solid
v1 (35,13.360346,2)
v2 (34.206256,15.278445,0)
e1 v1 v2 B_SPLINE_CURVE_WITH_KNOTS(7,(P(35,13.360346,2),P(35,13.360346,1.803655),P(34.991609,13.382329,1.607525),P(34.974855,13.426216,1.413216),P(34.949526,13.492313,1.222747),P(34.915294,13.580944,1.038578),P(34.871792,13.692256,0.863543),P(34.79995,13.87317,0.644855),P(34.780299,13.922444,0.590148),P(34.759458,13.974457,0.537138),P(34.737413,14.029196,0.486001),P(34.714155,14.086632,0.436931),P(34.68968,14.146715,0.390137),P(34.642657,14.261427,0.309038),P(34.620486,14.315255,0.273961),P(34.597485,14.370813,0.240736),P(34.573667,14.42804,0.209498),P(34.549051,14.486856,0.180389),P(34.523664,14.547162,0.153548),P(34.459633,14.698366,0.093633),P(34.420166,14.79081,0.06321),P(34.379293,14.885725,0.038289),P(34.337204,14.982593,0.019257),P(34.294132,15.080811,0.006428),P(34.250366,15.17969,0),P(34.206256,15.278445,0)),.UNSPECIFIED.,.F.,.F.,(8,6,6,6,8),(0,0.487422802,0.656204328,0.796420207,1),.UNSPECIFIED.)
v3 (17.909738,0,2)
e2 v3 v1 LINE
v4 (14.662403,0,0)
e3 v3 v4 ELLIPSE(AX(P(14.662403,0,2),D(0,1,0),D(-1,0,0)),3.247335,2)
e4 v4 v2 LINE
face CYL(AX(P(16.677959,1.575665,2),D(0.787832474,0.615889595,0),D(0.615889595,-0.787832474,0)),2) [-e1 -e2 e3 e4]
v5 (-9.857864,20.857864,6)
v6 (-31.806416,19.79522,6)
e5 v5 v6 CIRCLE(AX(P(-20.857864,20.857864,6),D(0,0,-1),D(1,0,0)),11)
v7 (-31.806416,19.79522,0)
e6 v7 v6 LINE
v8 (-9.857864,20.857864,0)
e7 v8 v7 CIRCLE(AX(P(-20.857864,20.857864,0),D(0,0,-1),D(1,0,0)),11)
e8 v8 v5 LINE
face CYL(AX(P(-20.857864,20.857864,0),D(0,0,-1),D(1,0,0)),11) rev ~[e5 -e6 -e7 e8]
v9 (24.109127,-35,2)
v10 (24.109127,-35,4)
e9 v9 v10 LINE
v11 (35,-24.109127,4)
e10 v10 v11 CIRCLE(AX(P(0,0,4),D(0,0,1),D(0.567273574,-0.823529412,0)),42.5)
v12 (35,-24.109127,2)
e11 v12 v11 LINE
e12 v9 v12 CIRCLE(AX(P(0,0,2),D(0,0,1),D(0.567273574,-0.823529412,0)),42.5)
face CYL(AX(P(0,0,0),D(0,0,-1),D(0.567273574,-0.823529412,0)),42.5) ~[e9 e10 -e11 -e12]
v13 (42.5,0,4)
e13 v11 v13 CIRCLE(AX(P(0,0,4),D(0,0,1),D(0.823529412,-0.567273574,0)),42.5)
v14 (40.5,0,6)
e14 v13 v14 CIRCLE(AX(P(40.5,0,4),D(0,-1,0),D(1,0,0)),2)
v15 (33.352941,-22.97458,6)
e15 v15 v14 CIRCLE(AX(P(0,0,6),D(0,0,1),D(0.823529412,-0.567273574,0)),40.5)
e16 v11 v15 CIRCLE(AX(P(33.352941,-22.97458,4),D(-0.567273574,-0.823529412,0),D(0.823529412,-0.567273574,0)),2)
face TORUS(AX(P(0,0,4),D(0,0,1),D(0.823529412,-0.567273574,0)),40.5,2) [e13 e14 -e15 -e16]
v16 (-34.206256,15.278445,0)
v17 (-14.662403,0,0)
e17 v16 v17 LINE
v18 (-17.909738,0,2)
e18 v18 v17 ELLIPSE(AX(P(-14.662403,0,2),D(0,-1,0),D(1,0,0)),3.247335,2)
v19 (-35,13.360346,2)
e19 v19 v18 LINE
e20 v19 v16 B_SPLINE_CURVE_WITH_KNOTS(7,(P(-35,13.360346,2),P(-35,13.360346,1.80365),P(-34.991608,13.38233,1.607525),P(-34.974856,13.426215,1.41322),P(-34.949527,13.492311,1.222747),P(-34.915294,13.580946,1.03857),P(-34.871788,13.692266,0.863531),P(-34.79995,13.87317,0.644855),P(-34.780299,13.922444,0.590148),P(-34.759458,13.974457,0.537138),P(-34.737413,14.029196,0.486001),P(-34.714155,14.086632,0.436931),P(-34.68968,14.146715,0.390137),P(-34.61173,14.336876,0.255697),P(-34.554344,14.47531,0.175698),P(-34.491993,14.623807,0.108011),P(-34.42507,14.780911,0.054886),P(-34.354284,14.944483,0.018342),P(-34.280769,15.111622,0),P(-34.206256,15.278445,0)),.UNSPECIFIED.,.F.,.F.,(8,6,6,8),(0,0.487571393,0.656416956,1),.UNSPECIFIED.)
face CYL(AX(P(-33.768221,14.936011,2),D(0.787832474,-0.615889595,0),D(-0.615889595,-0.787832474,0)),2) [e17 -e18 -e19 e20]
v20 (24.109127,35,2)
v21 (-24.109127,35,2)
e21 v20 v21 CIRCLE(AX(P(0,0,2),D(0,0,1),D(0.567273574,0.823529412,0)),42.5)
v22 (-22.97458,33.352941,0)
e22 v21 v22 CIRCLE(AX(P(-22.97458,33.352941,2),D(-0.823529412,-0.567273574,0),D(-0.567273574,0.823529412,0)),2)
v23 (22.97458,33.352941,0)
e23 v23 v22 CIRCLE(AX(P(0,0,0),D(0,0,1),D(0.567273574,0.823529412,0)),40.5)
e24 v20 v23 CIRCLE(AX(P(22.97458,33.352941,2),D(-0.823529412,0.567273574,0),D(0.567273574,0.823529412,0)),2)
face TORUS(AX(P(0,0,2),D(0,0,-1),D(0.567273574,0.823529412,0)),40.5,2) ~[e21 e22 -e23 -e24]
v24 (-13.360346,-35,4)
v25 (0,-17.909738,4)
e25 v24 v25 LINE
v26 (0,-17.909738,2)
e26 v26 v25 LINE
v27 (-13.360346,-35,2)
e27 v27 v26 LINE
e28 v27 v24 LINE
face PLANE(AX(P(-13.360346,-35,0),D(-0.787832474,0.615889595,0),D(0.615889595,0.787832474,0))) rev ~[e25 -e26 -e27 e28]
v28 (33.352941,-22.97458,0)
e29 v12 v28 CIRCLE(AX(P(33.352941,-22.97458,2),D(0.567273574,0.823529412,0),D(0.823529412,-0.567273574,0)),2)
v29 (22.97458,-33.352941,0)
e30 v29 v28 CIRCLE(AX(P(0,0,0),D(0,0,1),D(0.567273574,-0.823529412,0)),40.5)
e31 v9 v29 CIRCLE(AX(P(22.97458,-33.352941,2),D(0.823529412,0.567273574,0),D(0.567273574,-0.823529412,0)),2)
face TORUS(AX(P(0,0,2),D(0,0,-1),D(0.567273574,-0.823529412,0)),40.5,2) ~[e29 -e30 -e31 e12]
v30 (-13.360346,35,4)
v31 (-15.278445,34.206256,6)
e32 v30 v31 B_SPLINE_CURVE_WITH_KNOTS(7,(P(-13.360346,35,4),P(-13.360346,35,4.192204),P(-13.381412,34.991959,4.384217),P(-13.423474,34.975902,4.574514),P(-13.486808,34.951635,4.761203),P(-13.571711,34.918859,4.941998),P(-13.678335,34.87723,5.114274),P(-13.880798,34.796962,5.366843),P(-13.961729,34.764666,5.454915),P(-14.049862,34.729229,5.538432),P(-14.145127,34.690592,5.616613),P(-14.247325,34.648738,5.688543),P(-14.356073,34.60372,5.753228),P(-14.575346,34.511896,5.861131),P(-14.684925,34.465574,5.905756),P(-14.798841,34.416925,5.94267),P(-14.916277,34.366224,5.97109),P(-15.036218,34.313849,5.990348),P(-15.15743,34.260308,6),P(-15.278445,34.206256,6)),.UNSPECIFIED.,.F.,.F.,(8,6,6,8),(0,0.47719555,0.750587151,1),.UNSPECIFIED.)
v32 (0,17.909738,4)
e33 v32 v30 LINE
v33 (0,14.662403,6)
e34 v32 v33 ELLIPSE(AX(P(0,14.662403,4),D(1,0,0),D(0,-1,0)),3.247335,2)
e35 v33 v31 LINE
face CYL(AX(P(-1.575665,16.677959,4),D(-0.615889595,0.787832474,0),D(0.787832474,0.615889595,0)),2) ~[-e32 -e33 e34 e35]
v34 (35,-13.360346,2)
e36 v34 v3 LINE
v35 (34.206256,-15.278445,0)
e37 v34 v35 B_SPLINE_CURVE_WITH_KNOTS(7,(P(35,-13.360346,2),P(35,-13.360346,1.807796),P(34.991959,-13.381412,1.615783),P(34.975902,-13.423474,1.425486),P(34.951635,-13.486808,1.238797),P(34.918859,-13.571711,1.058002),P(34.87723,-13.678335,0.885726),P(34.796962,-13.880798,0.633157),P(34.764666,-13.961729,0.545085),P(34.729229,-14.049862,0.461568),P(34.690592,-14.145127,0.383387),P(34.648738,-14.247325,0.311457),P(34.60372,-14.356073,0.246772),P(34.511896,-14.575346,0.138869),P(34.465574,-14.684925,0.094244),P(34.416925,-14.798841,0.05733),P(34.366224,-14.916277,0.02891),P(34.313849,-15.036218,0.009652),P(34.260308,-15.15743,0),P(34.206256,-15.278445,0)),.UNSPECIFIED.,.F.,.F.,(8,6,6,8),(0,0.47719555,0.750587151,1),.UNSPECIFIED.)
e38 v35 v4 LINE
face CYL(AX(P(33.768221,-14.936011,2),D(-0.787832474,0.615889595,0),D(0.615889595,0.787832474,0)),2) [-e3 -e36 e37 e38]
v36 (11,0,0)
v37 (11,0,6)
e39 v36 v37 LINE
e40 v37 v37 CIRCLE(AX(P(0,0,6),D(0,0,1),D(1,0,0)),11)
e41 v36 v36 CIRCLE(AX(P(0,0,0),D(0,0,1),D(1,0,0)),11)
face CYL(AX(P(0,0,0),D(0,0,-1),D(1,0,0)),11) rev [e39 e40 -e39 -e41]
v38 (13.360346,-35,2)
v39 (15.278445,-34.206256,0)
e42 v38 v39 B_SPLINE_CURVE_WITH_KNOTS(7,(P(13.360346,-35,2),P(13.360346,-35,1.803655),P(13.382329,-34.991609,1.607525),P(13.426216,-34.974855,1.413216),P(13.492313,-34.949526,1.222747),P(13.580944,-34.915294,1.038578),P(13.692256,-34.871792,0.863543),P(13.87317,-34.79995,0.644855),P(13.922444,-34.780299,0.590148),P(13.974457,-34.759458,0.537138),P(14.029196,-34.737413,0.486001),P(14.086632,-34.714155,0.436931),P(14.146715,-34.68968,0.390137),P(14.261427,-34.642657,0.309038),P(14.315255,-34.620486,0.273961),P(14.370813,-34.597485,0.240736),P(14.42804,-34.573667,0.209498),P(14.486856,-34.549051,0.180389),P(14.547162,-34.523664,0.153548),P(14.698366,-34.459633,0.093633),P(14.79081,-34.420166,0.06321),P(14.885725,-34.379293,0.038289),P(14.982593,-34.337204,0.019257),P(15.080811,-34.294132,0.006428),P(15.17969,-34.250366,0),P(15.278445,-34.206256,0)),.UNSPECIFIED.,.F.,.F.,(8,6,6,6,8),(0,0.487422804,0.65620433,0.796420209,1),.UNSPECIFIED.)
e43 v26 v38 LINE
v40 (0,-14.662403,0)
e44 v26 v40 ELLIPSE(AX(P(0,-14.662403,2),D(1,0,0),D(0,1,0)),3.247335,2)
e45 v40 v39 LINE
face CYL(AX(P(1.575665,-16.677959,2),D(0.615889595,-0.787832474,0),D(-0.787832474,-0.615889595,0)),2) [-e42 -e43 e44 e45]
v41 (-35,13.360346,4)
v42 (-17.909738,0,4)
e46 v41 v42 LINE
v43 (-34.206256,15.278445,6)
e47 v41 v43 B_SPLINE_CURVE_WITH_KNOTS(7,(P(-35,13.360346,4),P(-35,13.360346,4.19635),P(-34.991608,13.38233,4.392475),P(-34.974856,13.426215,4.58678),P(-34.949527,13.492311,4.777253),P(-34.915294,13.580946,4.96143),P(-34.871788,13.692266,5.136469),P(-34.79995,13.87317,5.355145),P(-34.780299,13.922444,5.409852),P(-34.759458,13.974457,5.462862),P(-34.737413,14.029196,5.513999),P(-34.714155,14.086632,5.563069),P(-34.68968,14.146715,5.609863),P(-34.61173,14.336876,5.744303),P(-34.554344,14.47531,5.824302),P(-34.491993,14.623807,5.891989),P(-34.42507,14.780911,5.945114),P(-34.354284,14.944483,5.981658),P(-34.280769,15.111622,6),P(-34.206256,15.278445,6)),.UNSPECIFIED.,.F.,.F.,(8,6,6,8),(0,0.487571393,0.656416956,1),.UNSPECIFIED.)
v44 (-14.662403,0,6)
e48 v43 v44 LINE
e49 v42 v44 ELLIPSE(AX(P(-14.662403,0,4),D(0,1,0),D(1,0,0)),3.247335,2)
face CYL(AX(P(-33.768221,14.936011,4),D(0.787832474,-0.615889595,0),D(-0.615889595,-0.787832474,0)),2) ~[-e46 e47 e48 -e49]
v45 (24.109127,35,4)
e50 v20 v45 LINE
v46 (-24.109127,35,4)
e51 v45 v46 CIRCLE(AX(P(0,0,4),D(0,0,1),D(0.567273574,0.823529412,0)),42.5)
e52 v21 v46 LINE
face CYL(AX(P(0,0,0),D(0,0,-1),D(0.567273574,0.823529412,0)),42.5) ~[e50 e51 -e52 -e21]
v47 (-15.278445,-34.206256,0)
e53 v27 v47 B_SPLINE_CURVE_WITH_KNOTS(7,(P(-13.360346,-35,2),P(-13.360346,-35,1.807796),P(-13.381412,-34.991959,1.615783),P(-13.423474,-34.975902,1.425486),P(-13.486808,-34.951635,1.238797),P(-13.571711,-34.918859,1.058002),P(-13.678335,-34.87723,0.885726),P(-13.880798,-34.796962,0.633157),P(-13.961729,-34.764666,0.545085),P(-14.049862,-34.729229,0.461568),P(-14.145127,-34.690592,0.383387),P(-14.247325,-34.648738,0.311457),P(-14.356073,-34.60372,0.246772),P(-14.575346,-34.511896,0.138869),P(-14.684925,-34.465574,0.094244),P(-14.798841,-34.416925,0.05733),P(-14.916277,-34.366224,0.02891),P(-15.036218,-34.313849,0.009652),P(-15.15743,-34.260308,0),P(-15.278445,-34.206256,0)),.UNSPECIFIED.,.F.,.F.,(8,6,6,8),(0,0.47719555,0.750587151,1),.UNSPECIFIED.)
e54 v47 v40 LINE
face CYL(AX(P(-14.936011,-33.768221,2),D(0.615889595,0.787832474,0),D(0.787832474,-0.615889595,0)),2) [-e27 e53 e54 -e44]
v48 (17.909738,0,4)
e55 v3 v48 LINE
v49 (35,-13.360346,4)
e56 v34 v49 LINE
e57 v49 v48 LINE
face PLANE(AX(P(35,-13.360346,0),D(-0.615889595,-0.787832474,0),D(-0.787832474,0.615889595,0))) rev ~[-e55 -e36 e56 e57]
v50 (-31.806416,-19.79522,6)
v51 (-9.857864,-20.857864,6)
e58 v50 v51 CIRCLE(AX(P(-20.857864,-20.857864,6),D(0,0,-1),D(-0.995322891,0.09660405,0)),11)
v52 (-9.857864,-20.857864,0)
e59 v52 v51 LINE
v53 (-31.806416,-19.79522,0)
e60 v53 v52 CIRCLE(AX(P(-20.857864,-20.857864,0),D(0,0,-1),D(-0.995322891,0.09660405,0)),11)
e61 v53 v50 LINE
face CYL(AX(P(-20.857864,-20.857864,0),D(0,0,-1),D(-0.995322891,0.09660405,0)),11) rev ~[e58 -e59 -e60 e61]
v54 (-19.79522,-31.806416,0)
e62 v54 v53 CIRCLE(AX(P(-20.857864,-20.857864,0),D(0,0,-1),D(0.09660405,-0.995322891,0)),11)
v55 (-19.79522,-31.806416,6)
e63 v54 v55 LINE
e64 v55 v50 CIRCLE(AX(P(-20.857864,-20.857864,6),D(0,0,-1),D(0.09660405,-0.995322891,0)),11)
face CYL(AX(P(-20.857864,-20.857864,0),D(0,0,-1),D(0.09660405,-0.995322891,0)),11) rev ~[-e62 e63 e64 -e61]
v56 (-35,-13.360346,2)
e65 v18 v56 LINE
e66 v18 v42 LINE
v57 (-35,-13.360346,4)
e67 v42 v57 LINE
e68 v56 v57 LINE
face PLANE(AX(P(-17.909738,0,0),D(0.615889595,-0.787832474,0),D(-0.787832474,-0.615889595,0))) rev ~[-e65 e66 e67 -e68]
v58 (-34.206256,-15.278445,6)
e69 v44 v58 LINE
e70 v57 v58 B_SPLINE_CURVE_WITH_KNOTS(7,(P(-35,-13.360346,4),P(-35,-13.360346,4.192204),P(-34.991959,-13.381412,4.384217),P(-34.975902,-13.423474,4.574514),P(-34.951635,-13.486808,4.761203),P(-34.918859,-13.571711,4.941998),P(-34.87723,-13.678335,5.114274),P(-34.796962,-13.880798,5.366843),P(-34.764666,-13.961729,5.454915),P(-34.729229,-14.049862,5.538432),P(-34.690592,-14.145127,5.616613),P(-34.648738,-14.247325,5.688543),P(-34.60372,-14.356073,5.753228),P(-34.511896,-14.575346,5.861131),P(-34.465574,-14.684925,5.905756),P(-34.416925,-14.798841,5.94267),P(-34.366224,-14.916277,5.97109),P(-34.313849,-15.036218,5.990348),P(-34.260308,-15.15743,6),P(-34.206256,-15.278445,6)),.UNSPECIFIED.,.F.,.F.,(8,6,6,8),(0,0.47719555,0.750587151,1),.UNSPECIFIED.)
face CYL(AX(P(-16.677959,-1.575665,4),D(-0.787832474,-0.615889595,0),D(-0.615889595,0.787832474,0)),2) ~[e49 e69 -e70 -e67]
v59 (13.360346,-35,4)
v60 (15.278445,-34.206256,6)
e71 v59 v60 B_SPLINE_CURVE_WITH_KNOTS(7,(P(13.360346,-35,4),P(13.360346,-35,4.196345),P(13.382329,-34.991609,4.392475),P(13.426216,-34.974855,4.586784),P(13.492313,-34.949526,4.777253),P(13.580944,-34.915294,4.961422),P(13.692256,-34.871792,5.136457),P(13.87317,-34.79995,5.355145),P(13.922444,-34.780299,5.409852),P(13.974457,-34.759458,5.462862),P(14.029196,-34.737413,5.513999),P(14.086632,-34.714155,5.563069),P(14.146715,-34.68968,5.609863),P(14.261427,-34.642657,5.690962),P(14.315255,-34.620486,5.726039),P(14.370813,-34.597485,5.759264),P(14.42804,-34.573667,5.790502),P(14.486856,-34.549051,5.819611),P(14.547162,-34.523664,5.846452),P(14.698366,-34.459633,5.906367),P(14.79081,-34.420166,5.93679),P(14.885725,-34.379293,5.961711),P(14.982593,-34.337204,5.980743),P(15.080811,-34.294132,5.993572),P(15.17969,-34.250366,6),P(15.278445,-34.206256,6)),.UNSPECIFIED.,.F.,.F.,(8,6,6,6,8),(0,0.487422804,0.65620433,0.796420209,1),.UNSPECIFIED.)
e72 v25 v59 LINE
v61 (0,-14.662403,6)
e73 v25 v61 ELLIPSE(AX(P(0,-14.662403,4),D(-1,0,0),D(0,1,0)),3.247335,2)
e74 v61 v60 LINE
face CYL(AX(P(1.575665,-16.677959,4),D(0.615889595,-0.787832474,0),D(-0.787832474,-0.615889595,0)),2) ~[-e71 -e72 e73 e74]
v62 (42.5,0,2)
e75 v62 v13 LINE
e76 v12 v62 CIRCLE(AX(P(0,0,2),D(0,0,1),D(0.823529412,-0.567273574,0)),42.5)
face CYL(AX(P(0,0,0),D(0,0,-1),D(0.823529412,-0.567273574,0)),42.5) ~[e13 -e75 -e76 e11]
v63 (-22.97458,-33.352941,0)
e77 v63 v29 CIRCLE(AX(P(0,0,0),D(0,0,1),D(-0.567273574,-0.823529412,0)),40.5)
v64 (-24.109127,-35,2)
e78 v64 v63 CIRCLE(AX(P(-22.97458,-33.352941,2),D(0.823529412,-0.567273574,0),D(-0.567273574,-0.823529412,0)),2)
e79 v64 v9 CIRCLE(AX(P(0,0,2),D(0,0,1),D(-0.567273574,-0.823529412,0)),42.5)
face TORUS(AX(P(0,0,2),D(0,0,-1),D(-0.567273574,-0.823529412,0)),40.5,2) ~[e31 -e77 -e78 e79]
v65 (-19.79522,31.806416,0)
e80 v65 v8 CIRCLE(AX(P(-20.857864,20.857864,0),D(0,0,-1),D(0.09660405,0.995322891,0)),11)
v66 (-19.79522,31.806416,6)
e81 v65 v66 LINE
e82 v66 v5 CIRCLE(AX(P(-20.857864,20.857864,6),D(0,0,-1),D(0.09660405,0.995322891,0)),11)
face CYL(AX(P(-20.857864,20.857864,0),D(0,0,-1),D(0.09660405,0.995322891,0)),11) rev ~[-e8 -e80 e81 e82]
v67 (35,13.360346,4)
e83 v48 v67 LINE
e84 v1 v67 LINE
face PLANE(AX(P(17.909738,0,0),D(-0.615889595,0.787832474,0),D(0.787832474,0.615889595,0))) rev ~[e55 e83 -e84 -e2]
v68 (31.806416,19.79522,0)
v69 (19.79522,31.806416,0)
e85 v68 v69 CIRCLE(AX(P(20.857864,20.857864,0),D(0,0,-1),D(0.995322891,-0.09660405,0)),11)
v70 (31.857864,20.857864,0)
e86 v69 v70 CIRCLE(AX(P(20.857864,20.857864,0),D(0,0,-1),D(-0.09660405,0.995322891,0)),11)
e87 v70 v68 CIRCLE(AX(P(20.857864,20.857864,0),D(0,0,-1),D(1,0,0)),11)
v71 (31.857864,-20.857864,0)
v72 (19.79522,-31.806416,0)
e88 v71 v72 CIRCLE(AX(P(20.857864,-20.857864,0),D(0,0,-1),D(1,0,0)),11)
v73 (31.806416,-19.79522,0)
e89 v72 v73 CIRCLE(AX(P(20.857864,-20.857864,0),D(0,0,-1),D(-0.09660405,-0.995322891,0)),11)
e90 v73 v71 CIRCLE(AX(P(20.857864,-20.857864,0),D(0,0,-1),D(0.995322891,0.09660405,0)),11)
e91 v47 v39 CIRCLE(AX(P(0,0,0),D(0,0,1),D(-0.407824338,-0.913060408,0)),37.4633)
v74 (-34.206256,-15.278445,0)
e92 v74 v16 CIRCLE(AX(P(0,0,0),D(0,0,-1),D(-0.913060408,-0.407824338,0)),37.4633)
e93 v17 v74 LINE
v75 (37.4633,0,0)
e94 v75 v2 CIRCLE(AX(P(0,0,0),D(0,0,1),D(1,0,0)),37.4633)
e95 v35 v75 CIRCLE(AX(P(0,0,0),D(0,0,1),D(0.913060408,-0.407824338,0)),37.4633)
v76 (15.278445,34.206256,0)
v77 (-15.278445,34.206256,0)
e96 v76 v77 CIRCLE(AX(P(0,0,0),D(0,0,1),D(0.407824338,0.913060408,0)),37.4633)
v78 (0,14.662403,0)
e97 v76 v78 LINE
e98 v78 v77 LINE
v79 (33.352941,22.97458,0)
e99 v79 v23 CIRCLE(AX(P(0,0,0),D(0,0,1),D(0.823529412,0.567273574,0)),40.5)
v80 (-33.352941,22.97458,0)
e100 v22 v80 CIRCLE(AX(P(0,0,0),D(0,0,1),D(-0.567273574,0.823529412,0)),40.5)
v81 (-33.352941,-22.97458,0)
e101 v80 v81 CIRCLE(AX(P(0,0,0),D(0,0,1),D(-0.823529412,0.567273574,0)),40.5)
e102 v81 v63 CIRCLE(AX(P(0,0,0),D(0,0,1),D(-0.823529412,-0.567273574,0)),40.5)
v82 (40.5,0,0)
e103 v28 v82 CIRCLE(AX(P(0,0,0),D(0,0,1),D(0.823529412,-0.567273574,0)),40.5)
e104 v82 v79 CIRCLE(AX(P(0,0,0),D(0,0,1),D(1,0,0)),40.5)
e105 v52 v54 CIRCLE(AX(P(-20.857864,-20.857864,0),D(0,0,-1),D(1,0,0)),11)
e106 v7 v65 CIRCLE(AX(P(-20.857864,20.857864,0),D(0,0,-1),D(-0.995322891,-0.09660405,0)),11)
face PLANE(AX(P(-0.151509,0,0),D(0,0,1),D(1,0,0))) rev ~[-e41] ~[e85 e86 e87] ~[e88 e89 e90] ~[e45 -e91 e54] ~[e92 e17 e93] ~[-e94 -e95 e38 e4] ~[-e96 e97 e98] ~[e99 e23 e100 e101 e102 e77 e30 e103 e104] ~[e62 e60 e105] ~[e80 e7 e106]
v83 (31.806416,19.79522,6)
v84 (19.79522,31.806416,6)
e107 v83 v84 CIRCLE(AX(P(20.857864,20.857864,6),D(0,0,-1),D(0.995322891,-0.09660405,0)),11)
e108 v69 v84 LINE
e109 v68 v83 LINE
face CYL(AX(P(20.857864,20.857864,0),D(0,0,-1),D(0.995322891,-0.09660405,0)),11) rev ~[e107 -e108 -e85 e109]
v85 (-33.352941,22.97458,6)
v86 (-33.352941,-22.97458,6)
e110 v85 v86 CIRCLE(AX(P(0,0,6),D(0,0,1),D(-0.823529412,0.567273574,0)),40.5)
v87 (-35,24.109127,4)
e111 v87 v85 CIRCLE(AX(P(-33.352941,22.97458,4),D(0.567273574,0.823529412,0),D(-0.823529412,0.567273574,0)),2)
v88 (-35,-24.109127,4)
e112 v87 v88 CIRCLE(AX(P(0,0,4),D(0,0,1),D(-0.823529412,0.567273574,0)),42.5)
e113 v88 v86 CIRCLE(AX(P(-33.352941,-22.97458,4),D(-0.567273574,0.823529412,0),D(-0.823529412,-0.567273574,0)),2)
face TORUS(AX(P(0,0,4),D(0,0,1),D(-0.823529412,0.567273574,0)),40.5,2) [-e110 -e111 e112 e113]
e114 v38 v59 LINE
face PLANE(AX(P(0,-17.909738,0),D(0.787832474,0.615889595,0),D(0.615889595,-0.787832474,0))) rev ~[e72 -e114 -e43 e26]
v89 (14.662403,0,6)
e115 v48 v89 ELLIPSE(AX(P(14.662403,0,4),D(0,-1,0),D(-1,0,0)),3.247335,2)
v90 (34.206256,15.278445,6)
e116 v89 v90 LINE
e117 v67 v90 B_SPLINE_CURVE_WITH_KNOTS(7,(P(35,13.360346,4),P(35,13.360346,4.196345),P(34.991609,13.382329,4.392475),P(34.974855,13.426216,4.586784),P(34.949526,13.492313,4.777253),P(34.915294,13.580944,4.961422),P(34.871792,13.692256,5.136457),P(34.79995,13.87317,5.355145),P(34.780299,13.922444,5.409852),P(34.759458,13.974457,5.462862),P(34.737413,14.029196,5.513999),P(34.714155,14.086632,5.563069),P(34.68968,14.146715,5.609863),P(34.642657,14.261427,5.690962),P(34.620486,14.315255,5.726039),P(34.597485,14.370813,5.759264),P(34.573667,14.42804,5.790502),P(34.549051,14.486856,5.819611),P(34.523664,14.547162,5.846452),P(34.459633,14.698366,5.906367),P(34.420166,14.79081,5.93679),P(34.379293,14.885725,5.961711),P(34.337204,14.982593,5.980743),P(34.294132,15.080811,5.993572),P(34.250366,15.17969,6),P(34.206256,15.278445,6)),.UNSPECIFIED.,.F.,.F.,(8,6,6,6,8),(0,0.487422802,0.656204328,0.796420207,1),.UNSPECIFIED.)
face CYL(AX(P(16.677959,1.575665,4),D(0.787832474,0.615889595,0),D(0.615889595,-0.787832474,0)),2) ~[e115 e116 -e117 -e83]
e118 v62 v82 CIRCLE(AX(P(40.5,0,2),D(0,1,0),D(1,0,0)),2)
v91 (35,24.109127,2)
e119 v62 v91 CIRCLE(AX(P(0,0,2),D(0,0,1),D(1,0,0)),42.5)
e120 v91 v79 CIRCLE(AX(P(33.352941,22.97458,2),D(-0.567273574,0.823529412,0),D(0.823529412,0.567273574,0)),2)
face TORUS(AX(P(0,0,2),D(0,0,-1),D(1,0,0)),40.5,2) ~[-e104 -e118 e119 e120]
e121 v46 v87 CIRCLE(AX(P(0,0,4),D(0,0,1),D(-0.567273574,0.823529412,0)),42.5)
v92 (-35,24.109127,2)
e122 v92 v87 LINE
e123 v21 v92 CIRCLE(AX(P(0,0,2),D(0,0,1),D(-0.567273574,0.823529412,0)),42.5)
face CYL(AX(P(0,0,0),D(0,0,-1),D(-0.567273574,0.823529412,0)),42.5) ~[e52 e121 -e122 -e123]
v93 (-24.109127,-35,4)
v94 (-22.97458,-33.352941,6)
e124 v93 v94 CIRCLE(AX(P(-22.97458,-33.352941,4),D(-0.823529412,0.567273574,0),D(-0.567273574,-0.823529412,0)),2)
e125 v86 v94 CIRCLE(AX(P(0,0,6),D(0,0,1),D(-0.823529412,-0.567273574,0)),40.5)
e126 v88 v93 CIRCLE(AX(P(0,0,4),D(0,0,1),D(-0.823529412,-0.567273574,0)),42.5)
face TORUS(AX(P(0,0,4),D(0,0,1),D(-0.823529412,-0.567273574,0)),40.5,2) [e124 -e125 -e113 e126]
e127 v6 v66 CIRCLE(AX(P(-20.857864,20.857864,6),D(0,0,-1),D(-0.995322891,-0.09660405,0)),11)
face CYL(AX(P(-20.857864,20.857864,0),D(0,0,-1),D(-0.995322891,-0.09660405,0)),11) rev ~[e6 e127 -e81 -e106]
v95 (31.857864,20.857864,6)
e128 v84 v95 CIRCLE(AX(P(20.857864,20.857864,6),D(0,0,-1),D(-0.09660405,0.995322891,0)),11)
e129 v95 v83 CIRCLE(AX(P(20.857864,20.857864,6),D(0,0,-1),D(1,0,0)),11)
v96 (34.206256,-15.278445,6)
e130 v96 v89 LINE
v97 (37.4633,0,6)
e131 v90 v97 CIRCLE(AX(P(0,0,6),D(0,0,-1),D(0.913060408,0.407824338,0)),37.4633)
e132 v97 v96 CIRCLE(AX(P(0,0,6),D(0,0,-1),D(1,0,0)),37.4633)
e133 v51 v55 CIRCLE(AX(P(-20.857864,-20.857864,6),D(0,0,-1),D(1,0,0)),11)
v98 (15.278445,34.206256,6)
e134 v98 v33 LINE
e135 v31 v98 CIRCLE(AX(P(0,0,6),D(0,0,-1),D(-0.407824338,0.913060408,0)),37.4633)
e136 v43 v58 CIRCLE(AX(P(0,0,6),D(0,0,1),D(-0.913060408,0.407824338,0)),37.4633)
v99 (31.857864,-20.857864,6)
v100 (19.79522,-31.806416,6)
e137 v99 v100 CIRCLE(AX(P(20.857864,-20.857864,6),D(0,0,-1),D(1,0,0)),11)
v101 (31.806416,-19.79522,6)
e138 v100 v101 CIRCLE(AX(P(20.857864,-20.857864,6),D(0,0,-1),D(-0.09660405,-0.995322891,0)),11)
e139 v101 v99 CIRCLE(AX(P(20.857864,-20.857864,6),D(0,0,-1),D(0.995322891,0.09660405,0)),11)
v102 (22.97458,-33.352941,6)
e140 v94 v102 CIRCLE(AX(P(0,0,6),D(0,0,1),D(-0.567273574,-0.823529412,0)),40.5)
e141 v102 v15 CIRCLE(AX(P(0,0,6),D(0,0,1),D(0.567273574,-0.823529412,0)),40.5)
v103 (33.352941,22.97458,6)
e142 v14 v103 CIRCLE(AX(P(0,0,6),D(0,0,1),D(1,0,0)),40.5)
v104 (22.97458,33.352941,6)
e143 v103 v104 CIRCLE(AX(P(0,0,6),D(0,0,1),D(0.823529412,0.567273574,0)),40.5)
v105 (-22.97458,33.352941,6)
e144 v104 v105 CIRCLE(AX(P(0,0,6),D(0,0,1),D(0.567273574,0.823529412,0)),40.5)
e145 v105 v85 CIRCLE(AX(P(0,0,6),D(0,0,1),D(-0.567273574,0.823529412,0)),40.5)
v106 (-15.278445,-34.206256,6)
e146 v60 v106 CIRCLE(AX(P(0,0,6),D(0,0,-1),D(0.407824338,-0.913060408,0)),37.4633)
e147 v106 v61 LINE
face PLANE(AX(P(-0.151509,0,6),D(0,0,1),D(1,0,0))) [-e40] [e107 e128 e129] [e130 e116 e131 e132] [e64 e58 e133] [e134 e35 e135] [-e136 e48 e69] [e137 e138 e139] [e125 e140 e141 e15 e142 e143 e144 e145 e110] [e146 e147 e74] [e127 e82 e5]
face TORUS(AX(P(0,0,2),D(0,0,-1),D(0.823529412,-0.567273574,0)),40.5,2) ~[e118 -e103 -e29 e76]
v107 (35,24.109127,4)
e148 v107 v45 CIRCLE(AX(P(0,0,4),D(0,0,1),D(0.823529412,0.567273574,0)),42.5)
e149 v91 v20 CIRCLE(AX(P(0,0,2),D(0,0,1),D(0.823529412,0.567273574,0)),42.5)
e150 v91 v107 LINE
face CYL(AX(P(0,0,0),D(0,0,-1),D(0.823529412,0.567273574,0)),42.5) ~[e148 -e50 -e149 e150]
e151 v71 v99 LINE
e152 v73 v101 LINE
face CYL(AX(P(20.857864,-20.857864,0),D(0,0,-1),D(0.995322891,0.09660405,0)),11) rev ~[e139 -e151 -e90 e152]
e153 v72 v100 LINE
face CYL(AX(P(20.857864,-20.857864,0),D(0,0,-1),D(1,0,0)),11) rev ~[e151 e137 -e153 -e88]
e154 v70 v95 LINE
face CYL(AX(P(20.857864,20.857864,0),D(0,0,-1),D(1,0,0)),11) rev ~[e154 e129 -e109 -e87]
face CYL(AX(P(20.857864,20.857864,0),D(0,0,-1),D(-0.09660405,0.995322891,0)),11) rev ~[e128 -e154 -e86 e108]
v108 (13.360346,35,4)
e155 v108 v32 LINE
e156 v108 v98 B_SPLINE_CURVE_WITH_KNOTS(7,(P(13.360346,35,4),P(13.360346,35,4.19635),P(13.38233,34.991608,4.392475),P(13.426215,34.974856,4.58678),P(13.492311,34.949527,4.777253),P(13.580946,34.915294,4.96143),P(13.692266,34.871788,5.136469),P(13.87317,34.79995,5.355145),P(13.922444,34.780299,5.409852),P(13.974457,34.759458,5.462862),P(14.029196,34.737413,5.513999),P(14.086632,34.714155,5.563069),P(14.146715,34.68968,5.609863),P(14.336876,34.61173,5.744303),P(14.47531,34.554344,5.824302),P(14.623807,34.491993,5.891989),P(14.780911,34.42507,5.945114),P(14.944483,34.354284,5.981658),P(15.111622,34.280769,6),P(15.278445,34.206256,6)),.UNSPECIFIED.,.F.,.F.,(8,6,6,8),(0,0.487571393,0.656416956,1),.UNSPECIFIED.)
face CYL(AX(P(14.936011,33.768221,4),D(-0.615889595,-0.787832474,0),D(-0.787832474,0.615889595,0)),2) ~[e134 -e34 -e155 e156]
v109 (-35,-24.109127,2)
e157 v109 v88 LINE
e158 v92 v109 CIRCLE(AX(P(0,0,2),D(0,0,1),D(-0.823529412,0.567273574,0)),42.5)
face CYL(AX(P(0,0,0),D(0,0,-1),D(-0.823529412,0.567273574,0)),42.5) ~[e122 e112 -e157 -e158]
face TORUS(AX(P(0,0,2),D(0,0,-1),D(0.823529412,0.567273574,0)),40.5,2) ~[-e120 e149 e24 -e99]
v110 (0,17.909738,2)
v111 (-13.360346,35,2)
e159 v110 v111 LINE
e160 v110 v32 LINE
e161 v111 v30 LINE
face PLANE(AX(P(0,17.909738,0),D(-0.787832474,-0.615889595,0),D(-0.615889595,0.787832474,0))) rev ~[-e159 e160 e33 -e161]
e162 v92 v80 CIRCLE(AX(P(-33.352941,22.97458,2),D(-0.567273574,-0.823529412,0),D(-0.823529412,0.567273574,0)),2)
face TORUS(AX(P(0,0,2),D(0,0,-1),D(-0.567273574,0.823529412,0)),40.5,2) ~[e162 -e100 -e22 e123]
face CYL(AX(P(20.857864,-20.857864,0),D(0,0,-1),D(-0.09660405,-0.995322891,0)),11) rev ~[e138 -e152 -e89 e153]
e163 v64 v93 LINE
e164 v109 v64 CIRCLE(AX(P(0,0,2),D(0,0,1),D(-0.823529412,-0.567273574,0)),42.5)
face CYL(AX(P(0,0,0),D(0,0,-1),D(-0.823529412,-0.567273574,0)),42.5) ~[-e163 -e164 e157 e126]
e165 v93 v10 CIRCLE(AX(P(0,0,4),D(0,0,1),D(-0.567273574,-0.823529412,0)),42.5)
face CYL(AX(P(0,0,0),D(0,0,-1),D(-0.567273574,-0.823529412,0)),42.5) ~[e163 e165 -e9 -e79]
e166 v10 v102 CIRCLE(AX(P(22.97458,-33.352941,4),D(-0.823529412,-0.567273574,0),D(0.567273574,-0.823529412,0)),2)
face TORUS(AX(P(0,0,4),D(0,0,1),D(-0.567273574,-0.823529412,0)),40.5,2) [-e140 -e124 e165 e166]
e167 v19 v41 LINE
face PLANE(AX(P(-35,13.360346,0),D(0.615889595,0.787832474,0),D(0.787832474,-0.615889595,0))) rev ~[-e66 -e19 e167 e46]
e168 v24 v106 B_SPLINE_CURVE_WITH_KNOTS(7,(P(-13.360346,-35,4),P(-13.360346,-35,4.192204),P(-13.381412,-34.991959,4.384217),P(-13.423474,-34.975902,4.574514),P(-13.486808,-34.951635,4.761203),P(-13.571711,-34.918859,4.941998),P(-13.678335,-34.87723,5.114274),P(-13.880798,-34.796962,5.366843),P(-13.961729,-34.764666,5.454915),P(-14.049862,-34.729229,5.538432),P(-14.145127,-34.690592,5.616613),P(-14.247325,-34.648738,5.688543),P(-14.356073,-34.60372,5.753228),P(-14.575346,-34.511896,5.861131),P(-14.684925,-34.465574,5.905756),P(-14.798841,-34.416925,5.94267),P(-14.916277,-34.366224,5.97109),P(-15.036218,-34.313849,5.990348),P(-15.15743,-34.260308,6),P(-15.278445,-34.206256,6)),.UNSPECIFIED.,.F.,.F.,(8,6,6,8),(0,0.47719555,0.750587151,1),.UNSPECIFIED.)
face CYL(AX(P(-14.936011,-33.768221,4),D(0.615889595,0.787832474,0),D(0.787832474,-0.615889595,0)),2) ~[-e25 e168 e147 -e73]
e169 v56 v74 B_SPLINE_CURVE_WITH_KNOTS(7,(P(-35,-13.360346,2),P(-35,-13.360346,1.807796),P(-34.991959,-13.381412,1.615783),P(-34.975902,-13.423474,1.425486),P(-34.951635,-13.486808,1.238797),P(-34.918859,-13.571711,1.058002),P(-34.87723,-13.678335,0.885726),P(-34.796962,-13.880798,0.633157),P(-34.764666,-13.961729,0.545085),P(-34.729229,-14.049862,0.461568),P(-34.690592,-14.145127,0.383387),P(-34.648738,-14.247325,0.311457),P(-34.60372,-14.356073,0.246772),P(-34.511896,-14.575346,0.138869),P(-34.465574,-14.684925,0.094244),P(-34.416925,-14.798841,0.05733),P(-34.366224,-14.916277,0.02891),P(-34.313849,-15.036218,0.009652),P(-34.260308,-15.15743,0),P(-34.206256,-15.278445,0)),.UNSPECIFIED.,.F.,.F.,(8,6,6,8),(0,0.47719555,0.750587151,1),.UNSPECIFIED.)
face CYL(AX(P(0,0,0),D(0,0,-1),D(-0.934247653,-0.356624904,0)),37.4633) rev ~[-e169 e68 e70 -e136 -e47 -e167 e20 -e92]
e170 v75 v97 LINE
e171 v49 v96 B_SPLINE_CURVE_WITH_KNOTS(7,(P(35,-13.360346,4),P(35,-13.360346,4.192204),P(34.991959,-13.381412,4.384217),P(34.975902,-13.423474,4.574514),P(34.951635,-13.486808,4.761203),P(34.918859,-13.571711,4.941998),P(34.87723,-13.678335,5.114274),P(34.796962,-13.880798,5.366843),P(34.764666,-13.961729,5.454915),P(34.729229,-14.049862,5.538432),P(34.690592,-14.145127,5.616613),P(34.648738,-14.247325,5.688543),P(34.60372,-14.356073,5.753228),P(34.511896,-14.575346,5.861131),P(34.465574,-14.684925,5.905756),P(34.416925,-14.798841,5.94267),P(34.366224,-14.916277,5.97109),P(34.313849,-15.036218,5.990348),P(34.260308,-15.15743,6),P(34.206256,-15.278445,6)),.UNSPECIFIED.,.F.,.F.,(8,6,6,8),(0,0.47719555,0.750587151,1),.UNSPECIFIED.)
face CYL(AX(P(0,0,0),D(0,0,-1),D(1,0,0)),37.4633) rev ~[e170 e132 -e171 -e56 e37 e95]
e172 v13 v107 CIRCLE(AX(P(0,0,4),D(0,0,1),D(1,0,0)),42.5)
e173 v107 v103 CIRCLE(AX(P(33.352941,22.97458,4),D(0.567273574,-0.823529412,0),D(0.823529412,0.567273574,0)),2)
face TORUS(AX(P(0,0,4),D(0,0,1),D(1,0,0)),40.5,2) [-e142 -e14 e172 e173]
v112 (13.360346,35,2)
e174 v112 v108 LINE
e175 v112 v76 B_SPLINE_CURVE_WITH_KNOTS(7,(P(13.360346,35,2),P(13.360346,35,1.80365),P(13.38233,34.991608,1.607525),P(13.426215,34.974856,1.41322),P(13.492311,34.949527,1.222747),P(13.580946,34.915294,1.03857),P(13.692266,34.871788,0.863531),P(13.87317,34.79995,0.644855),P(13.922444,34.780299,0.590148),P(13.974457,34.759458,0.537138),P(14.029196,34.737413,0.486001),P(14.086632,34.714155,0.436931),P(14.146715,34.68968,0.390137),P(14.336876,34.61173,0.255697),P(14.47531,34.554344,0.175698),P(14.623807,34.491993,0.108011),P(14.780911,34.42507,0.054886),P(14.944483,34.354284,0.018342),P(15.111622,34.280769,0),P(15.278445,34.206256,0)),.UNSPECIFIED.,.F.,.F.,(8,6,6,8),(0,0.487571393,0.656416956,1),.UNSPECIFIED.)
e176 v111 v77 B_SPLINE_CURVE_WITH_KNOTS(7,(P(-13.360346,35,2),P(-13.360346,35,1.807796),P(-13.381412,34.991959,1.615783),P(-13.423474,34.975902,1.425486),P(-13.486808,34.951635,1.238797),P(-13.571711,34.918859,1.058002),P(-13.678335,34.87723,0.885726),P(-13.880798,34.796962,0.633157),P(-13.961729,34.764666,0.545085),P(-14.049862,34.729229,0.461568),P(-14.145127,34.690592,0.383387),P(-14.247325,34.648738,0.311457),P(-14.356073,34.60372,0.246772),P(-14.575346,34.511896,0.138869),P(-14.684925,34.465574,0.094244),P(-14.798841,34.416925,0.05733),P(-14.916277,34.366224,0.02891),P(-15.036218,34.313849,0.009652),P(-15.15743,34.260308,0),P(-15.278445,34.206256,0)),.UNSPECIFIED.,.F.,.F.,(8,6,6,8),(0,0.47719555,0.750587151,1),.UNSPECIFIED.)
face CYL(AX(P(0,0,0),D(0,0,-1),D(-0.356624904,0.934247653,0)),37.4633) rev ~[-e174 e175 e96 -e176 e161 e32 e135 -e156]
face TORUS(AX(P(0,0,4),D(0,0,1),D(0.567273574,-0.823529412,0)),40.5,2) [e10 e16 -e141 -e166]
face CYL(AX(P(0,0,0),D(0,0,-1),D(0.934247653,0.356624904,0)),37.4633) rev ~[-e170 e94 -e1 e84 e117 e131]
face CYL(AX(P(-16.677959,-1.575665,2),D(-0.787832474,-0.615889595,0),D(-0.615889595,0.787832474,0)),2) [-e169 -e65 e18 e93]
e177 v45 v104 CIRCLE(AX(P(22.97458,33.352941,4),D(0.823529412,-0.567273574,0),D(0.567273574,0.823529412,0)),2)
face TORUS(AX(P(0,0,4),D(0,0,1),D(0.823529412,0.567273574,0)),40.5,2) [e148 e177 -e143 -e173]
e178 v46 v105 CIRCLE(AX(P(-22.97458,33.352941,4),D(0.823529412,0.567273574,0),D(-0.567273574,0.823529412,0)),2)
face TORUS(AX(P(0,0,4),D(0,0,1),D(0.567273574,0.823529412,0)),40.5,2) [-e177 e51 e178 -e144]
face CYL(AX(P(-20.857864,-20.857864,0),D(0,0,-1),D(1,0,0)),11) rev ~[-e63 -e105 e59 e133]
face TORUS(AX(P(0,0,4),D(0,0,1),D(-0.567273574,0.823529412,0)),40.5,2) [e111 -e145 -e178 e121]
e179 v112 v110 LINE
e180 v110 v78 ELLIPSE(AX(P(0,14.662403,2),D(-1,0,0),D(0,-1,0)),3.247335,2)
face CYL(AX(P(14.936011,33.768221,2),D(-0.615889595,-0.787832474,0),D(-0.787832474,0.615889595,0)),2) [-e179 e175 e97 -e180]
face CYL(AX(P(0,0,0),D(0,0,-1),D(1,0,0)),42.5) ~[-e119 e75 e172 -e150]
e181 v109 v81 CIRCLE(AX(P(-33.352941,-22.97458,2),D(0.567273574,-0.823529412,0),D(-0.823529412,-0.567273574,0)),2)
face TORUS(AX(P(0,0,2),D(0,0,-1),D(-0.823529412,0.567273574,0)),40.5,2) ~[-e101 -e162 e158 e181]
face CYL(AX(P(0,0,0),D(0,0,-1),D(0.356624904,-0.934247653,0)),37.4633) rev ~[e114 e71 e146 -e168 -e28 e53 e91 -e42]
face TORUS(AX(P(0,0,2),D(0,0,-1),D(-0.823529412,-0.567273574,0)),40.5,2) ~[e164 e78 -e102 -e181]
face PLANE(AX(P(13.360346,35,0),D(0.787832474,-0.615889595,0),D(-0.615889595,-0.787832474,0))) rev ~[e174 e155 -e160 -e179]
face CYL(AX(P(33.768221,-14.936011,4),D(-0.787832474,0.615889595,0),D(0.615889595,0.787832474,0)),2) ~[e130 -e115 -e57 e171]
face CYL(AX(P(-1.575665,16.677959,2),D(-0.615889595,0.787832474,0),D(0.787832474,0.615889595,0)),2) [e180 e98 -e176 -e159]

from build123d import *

# Parameters (mm, degrees)
F0_R     = 11
F1_DEPTH = 6
F2_R     = 2


with BuildPart() as f1:
    # F0 (on Top) → F1 (new body)
    with BuildSketch(Plane.XY):
        with BuildLine():
            Line((0, -17.9097384963), (13.3603457361, -35))
            ThreePointArc((13.3603457361, -35), (16.6545076898, -33.5578040372), (19.7952198288, -31.8064161785))
            ThreePointArc((19.7952198288, -31.8064161785), (13.0796897832, -13.0796897832), (31.8064161785, -19.7952198288))
            ThreePointArc((31.8064161785, -19.7952198288), (33.5578040372, -16.6545076898), (35, -13.3603457361))
            Line((35, -13.3603457361), (17.9097384963, 0))
            Line((17.9097384963, 0), (35, 13.3603457361))
            ThreePointArc((35, 13.3603457361), (33.5578040372, 16.6545076898), (31.8064161785, 19.7952198288))
            ThreePointArc((31.8064161785, 19.7952198288), (13.0796897832, 13.0796897832), (19.7952198288, 31.8064161785))
            ThreePointArc((19.7952198288, 31.8064161785), (16.6545076898, 33.5578040372), (13.3603457361, 35))
            Line((13.3603457361, 35), (0, 17.9097384963))
            Line((0, 17.9097384963), (-13.3603457361, 35))
            ThreePointArc((-13.3603457361, 35), (-16.6545076898, 33.5578040372), (-19.7952198288, 31.8064161785))
            ThreePointArc((-19.7952198288, 31.8064161785), (-12.712648295, 28.2507971495), (-9.8578643763, 20.8578643763))
            ThreePointArc((-9.8578643763, 20.8578643763), (-20.3259197477, 9.8707339542), (-31.8064161785, 19.7952198288))
            ThreePointArc((-31.8064161785, 19.7952198288), (-33.5578040372, 16.6545076898), (-35, 13.3603457361))
            Line((-35, 13.3603457361), (-17.9097384963, 0))
            Line((-17.9097384963, 0), (-35, -13.3603457361))
            ThreePointArc((-35, -13.3603457361), (-33.5578040372, -16.6545076898), (-31.8064161785, -19.7952198288))
            ThreePointArc((-31.8064161785, -19.7952198288), (-20.3259197477, -9.8707339542), (-9.8578643763, -20.8578643763))
            ThreePointArc((-9.8578643763, -20.8578643763), (-12.712648295, -28.2507971495), (-19.7952198288, -31.8064161785))
            ThreePointArc((-19.7952198288, -31.8064161785), (-16.6545076898, -33.5578040372), (-13.3603457361, -35))
            Line((-13.3603457361, -35), (0, -17.9097384963))
        make_face()
        Circle(F0_R, mode=Mode.SUBTRACT)
        with BuildLine():
            ThreePointArc((-24.1091269025, 35), (-30.0520382004, 30.0520382004), (-35, 24.1091269025))
            Line((-35, 24.1091269025), (-35, 13.3603457361))
            ThreePointArc((-35, 13.3603457361), (-33.5578040372, 16.6545076898), (-31.8064161785, 19.7952198288))
            ThreePointArc((-31.8064161785, 19.7952198288), (-28.6360389693, 28.6360389693), (-19.7952198288, 31.8064161785))
            ThreePointArc((-19.7952198288, 31.8064161785), (-16.6545076898, 33.5578040372), (-13.3603457361, 35))
            Line((-13.3603457361, 35), (-24.1091269025, 35))
        make_face()
        with BuildLine():
            ThreePointArc((24.1091269025, 35), (0, 42.5), (-24.1091269025, 35))
            Line((-24.1091269025, 35), (-13.3603457361, 35))
            ThreePointArc((-13.3603457361, 35), (0, 37.4632998839), (13.3603457361, 35))
            Line((13.3603457361, 35), (24.1091269025, 35))
        make_face()
        with BuildLine():
            ThreePointArc((31.8064161785, 19.7952198288), (33.5578040372, 16.6545076898), (35, 13.3603457361))
            Line((35, 13.3603457361), (35, 24.1091269025))
            ThreePointArc((35, 24.1091269025), (30.0520382004, 30.0520382004), (24.1091269025, 35))
            Line((24.1091269025, 35), (13.3603457361, 35))
            ThreePointArc((13.3603457361, 35), (16.6545076898, 33.5578040372), (19.7952198288, 31.8064161785))
            ThreePointArc((19.7952198288, 31.8064161785), (28.2507971495, 29.0030804576), (31.8578643763, 20.8578643763))
            ThreePointArc((31.8578643763, 20.8578643763), (31.8449947984, 20.3259197477), (31.8064161785, 19.7952198288))
        make_face()
        with BuildLine():
            Line((35, -13.3603457361), (35, -24.1091269025))
            ThreePointArc((35, -24.1091269025), (40.5817077019, -12.624381173), (42.5, 0))
            ThreePointArc((42.5, 0), (40.5817077019, 12.624381173), (35, 24.1091269025))
            Line((35, 24.1091269025), (35, 13.3603457361))
            ThreePointArc((35, 13.3603457361), (36.8423284696, 6.792766088), (37.4632998839, 0))
            ThreePointArc((37.4632998839, 0), (36.8423284696, -6.792766088), (35, -13.3603457361))
        make_face()
        with BuildLine():
            ThreePointArc((19.7952198288, -31.8064161785), (16.6545076898, -33.5578040372), (13.3603457361, -35))
            Line((13.3603457361, -35), (24.1091269025, -35))
            ThreePointArc((24.1091269025, -35), (30.0520382004, -30.0520382004), (35, -24.1091269025))
            Line((35, -24.1091269025), (35, -13.3603457361))
            ThreePointArc((35, -13.3603457361), (33.5578040372, -16.6545076898), (31.8064161785, -19.7952198288))
            ThreePointArc((31.8064161785, -19.7952198288), (31.8449947984, -20.3259197477), (31.8578643763, -20.8578643763))
            ThreePointArc((31.8578643763, -20.8578643763), (28.2507971495, -29.0030804576), (19.7952198288, -31.8064161785))
        make_face()
        with BuildLine():
            Line((24.1091269025, -35), (13.3603457361, -35))
            ThreePointArc((13.3603457361, -35), (0, -37.4632998839), (-13.3603457361, -35))
            Line((-13.3603457361, -35), (-24.1091269025, -35))
            ThreePointArc((-24.1091269025, -35), (0, -42.5), (24.1091269025, -35))
        make_face()
        with BuildLine():
            Line((-24.1091269025, -35), (-13.3603457361, -35))
            ThreePointArc((-13.3603457361, -35), (-16.6545076898, -33.5578040372), (-19.7952198288, -31.8064161785))
            ThreePointArc((-19.7952198288, -31.8064161785), (-28.6360389693, -28.6360389693), (-31.8064161785, -19.7952198288))
            ThreePointArc((-31.8064161785, -19.7952198288), (-33.5578040372, -16.6545076898), (-35, -13.3603457361))
            Line((-35, -13.3603457361), (-35, -24.1091269025))
            ThreePointArc((-35, -24.1091269025), (-30.0520382004, -30.0520382004), (-24.1091269025, -35))
        make_face()
        with BuildLine():
            ThreePointArc((-35, 24.1091269025), (-42.5, 0), (-35, -24.1091269025))
            Line((-35, -24.1091269025), (-35, -13.3603457361))
            ThreePointArc((-35, -13.3603457361), (-37.4632998839, 0), (-35, 13.3603457361))
            Line((-35, 13.3603457361), (-35, 24.1091269025))
        make_face()
    extrude(amount=F1_DEPTH)

    # F2
    f2_edges = [f1.edges().sort_by_distance(p)[0] for p in [
        (35, -24.109127, 6),
        (35, -24.109127, 0),
        (-26.454869, 6.680173, 6),
        (-26.454869, -6.680173, 6),
        (-6.680173, -26.454869, 6),
        (6.680173, -26.454869, 6),
        (26.454869, -6.680173, 6),
        (26.454869, 6.680173, 6),
        (6.680173, 26.454869, 6),
        (-6.680173, 26.454869, 6),
        (6.680173, 26.454869, 0),
        (-6.680173, 26.454869, 0),
        (-26.454869, 6.680173, 0),
        (-26.454869, -6.680173, 0),
        (-6.680173, -26.454869, 0),
        (6.680173, -26.454869, 0),
        (26.454869, -6.680173, 0),
        (26.454869, 6.680173, 0),
    ]]
    fillet(f2_edges, radius=F2_R)


solid = f1.part
